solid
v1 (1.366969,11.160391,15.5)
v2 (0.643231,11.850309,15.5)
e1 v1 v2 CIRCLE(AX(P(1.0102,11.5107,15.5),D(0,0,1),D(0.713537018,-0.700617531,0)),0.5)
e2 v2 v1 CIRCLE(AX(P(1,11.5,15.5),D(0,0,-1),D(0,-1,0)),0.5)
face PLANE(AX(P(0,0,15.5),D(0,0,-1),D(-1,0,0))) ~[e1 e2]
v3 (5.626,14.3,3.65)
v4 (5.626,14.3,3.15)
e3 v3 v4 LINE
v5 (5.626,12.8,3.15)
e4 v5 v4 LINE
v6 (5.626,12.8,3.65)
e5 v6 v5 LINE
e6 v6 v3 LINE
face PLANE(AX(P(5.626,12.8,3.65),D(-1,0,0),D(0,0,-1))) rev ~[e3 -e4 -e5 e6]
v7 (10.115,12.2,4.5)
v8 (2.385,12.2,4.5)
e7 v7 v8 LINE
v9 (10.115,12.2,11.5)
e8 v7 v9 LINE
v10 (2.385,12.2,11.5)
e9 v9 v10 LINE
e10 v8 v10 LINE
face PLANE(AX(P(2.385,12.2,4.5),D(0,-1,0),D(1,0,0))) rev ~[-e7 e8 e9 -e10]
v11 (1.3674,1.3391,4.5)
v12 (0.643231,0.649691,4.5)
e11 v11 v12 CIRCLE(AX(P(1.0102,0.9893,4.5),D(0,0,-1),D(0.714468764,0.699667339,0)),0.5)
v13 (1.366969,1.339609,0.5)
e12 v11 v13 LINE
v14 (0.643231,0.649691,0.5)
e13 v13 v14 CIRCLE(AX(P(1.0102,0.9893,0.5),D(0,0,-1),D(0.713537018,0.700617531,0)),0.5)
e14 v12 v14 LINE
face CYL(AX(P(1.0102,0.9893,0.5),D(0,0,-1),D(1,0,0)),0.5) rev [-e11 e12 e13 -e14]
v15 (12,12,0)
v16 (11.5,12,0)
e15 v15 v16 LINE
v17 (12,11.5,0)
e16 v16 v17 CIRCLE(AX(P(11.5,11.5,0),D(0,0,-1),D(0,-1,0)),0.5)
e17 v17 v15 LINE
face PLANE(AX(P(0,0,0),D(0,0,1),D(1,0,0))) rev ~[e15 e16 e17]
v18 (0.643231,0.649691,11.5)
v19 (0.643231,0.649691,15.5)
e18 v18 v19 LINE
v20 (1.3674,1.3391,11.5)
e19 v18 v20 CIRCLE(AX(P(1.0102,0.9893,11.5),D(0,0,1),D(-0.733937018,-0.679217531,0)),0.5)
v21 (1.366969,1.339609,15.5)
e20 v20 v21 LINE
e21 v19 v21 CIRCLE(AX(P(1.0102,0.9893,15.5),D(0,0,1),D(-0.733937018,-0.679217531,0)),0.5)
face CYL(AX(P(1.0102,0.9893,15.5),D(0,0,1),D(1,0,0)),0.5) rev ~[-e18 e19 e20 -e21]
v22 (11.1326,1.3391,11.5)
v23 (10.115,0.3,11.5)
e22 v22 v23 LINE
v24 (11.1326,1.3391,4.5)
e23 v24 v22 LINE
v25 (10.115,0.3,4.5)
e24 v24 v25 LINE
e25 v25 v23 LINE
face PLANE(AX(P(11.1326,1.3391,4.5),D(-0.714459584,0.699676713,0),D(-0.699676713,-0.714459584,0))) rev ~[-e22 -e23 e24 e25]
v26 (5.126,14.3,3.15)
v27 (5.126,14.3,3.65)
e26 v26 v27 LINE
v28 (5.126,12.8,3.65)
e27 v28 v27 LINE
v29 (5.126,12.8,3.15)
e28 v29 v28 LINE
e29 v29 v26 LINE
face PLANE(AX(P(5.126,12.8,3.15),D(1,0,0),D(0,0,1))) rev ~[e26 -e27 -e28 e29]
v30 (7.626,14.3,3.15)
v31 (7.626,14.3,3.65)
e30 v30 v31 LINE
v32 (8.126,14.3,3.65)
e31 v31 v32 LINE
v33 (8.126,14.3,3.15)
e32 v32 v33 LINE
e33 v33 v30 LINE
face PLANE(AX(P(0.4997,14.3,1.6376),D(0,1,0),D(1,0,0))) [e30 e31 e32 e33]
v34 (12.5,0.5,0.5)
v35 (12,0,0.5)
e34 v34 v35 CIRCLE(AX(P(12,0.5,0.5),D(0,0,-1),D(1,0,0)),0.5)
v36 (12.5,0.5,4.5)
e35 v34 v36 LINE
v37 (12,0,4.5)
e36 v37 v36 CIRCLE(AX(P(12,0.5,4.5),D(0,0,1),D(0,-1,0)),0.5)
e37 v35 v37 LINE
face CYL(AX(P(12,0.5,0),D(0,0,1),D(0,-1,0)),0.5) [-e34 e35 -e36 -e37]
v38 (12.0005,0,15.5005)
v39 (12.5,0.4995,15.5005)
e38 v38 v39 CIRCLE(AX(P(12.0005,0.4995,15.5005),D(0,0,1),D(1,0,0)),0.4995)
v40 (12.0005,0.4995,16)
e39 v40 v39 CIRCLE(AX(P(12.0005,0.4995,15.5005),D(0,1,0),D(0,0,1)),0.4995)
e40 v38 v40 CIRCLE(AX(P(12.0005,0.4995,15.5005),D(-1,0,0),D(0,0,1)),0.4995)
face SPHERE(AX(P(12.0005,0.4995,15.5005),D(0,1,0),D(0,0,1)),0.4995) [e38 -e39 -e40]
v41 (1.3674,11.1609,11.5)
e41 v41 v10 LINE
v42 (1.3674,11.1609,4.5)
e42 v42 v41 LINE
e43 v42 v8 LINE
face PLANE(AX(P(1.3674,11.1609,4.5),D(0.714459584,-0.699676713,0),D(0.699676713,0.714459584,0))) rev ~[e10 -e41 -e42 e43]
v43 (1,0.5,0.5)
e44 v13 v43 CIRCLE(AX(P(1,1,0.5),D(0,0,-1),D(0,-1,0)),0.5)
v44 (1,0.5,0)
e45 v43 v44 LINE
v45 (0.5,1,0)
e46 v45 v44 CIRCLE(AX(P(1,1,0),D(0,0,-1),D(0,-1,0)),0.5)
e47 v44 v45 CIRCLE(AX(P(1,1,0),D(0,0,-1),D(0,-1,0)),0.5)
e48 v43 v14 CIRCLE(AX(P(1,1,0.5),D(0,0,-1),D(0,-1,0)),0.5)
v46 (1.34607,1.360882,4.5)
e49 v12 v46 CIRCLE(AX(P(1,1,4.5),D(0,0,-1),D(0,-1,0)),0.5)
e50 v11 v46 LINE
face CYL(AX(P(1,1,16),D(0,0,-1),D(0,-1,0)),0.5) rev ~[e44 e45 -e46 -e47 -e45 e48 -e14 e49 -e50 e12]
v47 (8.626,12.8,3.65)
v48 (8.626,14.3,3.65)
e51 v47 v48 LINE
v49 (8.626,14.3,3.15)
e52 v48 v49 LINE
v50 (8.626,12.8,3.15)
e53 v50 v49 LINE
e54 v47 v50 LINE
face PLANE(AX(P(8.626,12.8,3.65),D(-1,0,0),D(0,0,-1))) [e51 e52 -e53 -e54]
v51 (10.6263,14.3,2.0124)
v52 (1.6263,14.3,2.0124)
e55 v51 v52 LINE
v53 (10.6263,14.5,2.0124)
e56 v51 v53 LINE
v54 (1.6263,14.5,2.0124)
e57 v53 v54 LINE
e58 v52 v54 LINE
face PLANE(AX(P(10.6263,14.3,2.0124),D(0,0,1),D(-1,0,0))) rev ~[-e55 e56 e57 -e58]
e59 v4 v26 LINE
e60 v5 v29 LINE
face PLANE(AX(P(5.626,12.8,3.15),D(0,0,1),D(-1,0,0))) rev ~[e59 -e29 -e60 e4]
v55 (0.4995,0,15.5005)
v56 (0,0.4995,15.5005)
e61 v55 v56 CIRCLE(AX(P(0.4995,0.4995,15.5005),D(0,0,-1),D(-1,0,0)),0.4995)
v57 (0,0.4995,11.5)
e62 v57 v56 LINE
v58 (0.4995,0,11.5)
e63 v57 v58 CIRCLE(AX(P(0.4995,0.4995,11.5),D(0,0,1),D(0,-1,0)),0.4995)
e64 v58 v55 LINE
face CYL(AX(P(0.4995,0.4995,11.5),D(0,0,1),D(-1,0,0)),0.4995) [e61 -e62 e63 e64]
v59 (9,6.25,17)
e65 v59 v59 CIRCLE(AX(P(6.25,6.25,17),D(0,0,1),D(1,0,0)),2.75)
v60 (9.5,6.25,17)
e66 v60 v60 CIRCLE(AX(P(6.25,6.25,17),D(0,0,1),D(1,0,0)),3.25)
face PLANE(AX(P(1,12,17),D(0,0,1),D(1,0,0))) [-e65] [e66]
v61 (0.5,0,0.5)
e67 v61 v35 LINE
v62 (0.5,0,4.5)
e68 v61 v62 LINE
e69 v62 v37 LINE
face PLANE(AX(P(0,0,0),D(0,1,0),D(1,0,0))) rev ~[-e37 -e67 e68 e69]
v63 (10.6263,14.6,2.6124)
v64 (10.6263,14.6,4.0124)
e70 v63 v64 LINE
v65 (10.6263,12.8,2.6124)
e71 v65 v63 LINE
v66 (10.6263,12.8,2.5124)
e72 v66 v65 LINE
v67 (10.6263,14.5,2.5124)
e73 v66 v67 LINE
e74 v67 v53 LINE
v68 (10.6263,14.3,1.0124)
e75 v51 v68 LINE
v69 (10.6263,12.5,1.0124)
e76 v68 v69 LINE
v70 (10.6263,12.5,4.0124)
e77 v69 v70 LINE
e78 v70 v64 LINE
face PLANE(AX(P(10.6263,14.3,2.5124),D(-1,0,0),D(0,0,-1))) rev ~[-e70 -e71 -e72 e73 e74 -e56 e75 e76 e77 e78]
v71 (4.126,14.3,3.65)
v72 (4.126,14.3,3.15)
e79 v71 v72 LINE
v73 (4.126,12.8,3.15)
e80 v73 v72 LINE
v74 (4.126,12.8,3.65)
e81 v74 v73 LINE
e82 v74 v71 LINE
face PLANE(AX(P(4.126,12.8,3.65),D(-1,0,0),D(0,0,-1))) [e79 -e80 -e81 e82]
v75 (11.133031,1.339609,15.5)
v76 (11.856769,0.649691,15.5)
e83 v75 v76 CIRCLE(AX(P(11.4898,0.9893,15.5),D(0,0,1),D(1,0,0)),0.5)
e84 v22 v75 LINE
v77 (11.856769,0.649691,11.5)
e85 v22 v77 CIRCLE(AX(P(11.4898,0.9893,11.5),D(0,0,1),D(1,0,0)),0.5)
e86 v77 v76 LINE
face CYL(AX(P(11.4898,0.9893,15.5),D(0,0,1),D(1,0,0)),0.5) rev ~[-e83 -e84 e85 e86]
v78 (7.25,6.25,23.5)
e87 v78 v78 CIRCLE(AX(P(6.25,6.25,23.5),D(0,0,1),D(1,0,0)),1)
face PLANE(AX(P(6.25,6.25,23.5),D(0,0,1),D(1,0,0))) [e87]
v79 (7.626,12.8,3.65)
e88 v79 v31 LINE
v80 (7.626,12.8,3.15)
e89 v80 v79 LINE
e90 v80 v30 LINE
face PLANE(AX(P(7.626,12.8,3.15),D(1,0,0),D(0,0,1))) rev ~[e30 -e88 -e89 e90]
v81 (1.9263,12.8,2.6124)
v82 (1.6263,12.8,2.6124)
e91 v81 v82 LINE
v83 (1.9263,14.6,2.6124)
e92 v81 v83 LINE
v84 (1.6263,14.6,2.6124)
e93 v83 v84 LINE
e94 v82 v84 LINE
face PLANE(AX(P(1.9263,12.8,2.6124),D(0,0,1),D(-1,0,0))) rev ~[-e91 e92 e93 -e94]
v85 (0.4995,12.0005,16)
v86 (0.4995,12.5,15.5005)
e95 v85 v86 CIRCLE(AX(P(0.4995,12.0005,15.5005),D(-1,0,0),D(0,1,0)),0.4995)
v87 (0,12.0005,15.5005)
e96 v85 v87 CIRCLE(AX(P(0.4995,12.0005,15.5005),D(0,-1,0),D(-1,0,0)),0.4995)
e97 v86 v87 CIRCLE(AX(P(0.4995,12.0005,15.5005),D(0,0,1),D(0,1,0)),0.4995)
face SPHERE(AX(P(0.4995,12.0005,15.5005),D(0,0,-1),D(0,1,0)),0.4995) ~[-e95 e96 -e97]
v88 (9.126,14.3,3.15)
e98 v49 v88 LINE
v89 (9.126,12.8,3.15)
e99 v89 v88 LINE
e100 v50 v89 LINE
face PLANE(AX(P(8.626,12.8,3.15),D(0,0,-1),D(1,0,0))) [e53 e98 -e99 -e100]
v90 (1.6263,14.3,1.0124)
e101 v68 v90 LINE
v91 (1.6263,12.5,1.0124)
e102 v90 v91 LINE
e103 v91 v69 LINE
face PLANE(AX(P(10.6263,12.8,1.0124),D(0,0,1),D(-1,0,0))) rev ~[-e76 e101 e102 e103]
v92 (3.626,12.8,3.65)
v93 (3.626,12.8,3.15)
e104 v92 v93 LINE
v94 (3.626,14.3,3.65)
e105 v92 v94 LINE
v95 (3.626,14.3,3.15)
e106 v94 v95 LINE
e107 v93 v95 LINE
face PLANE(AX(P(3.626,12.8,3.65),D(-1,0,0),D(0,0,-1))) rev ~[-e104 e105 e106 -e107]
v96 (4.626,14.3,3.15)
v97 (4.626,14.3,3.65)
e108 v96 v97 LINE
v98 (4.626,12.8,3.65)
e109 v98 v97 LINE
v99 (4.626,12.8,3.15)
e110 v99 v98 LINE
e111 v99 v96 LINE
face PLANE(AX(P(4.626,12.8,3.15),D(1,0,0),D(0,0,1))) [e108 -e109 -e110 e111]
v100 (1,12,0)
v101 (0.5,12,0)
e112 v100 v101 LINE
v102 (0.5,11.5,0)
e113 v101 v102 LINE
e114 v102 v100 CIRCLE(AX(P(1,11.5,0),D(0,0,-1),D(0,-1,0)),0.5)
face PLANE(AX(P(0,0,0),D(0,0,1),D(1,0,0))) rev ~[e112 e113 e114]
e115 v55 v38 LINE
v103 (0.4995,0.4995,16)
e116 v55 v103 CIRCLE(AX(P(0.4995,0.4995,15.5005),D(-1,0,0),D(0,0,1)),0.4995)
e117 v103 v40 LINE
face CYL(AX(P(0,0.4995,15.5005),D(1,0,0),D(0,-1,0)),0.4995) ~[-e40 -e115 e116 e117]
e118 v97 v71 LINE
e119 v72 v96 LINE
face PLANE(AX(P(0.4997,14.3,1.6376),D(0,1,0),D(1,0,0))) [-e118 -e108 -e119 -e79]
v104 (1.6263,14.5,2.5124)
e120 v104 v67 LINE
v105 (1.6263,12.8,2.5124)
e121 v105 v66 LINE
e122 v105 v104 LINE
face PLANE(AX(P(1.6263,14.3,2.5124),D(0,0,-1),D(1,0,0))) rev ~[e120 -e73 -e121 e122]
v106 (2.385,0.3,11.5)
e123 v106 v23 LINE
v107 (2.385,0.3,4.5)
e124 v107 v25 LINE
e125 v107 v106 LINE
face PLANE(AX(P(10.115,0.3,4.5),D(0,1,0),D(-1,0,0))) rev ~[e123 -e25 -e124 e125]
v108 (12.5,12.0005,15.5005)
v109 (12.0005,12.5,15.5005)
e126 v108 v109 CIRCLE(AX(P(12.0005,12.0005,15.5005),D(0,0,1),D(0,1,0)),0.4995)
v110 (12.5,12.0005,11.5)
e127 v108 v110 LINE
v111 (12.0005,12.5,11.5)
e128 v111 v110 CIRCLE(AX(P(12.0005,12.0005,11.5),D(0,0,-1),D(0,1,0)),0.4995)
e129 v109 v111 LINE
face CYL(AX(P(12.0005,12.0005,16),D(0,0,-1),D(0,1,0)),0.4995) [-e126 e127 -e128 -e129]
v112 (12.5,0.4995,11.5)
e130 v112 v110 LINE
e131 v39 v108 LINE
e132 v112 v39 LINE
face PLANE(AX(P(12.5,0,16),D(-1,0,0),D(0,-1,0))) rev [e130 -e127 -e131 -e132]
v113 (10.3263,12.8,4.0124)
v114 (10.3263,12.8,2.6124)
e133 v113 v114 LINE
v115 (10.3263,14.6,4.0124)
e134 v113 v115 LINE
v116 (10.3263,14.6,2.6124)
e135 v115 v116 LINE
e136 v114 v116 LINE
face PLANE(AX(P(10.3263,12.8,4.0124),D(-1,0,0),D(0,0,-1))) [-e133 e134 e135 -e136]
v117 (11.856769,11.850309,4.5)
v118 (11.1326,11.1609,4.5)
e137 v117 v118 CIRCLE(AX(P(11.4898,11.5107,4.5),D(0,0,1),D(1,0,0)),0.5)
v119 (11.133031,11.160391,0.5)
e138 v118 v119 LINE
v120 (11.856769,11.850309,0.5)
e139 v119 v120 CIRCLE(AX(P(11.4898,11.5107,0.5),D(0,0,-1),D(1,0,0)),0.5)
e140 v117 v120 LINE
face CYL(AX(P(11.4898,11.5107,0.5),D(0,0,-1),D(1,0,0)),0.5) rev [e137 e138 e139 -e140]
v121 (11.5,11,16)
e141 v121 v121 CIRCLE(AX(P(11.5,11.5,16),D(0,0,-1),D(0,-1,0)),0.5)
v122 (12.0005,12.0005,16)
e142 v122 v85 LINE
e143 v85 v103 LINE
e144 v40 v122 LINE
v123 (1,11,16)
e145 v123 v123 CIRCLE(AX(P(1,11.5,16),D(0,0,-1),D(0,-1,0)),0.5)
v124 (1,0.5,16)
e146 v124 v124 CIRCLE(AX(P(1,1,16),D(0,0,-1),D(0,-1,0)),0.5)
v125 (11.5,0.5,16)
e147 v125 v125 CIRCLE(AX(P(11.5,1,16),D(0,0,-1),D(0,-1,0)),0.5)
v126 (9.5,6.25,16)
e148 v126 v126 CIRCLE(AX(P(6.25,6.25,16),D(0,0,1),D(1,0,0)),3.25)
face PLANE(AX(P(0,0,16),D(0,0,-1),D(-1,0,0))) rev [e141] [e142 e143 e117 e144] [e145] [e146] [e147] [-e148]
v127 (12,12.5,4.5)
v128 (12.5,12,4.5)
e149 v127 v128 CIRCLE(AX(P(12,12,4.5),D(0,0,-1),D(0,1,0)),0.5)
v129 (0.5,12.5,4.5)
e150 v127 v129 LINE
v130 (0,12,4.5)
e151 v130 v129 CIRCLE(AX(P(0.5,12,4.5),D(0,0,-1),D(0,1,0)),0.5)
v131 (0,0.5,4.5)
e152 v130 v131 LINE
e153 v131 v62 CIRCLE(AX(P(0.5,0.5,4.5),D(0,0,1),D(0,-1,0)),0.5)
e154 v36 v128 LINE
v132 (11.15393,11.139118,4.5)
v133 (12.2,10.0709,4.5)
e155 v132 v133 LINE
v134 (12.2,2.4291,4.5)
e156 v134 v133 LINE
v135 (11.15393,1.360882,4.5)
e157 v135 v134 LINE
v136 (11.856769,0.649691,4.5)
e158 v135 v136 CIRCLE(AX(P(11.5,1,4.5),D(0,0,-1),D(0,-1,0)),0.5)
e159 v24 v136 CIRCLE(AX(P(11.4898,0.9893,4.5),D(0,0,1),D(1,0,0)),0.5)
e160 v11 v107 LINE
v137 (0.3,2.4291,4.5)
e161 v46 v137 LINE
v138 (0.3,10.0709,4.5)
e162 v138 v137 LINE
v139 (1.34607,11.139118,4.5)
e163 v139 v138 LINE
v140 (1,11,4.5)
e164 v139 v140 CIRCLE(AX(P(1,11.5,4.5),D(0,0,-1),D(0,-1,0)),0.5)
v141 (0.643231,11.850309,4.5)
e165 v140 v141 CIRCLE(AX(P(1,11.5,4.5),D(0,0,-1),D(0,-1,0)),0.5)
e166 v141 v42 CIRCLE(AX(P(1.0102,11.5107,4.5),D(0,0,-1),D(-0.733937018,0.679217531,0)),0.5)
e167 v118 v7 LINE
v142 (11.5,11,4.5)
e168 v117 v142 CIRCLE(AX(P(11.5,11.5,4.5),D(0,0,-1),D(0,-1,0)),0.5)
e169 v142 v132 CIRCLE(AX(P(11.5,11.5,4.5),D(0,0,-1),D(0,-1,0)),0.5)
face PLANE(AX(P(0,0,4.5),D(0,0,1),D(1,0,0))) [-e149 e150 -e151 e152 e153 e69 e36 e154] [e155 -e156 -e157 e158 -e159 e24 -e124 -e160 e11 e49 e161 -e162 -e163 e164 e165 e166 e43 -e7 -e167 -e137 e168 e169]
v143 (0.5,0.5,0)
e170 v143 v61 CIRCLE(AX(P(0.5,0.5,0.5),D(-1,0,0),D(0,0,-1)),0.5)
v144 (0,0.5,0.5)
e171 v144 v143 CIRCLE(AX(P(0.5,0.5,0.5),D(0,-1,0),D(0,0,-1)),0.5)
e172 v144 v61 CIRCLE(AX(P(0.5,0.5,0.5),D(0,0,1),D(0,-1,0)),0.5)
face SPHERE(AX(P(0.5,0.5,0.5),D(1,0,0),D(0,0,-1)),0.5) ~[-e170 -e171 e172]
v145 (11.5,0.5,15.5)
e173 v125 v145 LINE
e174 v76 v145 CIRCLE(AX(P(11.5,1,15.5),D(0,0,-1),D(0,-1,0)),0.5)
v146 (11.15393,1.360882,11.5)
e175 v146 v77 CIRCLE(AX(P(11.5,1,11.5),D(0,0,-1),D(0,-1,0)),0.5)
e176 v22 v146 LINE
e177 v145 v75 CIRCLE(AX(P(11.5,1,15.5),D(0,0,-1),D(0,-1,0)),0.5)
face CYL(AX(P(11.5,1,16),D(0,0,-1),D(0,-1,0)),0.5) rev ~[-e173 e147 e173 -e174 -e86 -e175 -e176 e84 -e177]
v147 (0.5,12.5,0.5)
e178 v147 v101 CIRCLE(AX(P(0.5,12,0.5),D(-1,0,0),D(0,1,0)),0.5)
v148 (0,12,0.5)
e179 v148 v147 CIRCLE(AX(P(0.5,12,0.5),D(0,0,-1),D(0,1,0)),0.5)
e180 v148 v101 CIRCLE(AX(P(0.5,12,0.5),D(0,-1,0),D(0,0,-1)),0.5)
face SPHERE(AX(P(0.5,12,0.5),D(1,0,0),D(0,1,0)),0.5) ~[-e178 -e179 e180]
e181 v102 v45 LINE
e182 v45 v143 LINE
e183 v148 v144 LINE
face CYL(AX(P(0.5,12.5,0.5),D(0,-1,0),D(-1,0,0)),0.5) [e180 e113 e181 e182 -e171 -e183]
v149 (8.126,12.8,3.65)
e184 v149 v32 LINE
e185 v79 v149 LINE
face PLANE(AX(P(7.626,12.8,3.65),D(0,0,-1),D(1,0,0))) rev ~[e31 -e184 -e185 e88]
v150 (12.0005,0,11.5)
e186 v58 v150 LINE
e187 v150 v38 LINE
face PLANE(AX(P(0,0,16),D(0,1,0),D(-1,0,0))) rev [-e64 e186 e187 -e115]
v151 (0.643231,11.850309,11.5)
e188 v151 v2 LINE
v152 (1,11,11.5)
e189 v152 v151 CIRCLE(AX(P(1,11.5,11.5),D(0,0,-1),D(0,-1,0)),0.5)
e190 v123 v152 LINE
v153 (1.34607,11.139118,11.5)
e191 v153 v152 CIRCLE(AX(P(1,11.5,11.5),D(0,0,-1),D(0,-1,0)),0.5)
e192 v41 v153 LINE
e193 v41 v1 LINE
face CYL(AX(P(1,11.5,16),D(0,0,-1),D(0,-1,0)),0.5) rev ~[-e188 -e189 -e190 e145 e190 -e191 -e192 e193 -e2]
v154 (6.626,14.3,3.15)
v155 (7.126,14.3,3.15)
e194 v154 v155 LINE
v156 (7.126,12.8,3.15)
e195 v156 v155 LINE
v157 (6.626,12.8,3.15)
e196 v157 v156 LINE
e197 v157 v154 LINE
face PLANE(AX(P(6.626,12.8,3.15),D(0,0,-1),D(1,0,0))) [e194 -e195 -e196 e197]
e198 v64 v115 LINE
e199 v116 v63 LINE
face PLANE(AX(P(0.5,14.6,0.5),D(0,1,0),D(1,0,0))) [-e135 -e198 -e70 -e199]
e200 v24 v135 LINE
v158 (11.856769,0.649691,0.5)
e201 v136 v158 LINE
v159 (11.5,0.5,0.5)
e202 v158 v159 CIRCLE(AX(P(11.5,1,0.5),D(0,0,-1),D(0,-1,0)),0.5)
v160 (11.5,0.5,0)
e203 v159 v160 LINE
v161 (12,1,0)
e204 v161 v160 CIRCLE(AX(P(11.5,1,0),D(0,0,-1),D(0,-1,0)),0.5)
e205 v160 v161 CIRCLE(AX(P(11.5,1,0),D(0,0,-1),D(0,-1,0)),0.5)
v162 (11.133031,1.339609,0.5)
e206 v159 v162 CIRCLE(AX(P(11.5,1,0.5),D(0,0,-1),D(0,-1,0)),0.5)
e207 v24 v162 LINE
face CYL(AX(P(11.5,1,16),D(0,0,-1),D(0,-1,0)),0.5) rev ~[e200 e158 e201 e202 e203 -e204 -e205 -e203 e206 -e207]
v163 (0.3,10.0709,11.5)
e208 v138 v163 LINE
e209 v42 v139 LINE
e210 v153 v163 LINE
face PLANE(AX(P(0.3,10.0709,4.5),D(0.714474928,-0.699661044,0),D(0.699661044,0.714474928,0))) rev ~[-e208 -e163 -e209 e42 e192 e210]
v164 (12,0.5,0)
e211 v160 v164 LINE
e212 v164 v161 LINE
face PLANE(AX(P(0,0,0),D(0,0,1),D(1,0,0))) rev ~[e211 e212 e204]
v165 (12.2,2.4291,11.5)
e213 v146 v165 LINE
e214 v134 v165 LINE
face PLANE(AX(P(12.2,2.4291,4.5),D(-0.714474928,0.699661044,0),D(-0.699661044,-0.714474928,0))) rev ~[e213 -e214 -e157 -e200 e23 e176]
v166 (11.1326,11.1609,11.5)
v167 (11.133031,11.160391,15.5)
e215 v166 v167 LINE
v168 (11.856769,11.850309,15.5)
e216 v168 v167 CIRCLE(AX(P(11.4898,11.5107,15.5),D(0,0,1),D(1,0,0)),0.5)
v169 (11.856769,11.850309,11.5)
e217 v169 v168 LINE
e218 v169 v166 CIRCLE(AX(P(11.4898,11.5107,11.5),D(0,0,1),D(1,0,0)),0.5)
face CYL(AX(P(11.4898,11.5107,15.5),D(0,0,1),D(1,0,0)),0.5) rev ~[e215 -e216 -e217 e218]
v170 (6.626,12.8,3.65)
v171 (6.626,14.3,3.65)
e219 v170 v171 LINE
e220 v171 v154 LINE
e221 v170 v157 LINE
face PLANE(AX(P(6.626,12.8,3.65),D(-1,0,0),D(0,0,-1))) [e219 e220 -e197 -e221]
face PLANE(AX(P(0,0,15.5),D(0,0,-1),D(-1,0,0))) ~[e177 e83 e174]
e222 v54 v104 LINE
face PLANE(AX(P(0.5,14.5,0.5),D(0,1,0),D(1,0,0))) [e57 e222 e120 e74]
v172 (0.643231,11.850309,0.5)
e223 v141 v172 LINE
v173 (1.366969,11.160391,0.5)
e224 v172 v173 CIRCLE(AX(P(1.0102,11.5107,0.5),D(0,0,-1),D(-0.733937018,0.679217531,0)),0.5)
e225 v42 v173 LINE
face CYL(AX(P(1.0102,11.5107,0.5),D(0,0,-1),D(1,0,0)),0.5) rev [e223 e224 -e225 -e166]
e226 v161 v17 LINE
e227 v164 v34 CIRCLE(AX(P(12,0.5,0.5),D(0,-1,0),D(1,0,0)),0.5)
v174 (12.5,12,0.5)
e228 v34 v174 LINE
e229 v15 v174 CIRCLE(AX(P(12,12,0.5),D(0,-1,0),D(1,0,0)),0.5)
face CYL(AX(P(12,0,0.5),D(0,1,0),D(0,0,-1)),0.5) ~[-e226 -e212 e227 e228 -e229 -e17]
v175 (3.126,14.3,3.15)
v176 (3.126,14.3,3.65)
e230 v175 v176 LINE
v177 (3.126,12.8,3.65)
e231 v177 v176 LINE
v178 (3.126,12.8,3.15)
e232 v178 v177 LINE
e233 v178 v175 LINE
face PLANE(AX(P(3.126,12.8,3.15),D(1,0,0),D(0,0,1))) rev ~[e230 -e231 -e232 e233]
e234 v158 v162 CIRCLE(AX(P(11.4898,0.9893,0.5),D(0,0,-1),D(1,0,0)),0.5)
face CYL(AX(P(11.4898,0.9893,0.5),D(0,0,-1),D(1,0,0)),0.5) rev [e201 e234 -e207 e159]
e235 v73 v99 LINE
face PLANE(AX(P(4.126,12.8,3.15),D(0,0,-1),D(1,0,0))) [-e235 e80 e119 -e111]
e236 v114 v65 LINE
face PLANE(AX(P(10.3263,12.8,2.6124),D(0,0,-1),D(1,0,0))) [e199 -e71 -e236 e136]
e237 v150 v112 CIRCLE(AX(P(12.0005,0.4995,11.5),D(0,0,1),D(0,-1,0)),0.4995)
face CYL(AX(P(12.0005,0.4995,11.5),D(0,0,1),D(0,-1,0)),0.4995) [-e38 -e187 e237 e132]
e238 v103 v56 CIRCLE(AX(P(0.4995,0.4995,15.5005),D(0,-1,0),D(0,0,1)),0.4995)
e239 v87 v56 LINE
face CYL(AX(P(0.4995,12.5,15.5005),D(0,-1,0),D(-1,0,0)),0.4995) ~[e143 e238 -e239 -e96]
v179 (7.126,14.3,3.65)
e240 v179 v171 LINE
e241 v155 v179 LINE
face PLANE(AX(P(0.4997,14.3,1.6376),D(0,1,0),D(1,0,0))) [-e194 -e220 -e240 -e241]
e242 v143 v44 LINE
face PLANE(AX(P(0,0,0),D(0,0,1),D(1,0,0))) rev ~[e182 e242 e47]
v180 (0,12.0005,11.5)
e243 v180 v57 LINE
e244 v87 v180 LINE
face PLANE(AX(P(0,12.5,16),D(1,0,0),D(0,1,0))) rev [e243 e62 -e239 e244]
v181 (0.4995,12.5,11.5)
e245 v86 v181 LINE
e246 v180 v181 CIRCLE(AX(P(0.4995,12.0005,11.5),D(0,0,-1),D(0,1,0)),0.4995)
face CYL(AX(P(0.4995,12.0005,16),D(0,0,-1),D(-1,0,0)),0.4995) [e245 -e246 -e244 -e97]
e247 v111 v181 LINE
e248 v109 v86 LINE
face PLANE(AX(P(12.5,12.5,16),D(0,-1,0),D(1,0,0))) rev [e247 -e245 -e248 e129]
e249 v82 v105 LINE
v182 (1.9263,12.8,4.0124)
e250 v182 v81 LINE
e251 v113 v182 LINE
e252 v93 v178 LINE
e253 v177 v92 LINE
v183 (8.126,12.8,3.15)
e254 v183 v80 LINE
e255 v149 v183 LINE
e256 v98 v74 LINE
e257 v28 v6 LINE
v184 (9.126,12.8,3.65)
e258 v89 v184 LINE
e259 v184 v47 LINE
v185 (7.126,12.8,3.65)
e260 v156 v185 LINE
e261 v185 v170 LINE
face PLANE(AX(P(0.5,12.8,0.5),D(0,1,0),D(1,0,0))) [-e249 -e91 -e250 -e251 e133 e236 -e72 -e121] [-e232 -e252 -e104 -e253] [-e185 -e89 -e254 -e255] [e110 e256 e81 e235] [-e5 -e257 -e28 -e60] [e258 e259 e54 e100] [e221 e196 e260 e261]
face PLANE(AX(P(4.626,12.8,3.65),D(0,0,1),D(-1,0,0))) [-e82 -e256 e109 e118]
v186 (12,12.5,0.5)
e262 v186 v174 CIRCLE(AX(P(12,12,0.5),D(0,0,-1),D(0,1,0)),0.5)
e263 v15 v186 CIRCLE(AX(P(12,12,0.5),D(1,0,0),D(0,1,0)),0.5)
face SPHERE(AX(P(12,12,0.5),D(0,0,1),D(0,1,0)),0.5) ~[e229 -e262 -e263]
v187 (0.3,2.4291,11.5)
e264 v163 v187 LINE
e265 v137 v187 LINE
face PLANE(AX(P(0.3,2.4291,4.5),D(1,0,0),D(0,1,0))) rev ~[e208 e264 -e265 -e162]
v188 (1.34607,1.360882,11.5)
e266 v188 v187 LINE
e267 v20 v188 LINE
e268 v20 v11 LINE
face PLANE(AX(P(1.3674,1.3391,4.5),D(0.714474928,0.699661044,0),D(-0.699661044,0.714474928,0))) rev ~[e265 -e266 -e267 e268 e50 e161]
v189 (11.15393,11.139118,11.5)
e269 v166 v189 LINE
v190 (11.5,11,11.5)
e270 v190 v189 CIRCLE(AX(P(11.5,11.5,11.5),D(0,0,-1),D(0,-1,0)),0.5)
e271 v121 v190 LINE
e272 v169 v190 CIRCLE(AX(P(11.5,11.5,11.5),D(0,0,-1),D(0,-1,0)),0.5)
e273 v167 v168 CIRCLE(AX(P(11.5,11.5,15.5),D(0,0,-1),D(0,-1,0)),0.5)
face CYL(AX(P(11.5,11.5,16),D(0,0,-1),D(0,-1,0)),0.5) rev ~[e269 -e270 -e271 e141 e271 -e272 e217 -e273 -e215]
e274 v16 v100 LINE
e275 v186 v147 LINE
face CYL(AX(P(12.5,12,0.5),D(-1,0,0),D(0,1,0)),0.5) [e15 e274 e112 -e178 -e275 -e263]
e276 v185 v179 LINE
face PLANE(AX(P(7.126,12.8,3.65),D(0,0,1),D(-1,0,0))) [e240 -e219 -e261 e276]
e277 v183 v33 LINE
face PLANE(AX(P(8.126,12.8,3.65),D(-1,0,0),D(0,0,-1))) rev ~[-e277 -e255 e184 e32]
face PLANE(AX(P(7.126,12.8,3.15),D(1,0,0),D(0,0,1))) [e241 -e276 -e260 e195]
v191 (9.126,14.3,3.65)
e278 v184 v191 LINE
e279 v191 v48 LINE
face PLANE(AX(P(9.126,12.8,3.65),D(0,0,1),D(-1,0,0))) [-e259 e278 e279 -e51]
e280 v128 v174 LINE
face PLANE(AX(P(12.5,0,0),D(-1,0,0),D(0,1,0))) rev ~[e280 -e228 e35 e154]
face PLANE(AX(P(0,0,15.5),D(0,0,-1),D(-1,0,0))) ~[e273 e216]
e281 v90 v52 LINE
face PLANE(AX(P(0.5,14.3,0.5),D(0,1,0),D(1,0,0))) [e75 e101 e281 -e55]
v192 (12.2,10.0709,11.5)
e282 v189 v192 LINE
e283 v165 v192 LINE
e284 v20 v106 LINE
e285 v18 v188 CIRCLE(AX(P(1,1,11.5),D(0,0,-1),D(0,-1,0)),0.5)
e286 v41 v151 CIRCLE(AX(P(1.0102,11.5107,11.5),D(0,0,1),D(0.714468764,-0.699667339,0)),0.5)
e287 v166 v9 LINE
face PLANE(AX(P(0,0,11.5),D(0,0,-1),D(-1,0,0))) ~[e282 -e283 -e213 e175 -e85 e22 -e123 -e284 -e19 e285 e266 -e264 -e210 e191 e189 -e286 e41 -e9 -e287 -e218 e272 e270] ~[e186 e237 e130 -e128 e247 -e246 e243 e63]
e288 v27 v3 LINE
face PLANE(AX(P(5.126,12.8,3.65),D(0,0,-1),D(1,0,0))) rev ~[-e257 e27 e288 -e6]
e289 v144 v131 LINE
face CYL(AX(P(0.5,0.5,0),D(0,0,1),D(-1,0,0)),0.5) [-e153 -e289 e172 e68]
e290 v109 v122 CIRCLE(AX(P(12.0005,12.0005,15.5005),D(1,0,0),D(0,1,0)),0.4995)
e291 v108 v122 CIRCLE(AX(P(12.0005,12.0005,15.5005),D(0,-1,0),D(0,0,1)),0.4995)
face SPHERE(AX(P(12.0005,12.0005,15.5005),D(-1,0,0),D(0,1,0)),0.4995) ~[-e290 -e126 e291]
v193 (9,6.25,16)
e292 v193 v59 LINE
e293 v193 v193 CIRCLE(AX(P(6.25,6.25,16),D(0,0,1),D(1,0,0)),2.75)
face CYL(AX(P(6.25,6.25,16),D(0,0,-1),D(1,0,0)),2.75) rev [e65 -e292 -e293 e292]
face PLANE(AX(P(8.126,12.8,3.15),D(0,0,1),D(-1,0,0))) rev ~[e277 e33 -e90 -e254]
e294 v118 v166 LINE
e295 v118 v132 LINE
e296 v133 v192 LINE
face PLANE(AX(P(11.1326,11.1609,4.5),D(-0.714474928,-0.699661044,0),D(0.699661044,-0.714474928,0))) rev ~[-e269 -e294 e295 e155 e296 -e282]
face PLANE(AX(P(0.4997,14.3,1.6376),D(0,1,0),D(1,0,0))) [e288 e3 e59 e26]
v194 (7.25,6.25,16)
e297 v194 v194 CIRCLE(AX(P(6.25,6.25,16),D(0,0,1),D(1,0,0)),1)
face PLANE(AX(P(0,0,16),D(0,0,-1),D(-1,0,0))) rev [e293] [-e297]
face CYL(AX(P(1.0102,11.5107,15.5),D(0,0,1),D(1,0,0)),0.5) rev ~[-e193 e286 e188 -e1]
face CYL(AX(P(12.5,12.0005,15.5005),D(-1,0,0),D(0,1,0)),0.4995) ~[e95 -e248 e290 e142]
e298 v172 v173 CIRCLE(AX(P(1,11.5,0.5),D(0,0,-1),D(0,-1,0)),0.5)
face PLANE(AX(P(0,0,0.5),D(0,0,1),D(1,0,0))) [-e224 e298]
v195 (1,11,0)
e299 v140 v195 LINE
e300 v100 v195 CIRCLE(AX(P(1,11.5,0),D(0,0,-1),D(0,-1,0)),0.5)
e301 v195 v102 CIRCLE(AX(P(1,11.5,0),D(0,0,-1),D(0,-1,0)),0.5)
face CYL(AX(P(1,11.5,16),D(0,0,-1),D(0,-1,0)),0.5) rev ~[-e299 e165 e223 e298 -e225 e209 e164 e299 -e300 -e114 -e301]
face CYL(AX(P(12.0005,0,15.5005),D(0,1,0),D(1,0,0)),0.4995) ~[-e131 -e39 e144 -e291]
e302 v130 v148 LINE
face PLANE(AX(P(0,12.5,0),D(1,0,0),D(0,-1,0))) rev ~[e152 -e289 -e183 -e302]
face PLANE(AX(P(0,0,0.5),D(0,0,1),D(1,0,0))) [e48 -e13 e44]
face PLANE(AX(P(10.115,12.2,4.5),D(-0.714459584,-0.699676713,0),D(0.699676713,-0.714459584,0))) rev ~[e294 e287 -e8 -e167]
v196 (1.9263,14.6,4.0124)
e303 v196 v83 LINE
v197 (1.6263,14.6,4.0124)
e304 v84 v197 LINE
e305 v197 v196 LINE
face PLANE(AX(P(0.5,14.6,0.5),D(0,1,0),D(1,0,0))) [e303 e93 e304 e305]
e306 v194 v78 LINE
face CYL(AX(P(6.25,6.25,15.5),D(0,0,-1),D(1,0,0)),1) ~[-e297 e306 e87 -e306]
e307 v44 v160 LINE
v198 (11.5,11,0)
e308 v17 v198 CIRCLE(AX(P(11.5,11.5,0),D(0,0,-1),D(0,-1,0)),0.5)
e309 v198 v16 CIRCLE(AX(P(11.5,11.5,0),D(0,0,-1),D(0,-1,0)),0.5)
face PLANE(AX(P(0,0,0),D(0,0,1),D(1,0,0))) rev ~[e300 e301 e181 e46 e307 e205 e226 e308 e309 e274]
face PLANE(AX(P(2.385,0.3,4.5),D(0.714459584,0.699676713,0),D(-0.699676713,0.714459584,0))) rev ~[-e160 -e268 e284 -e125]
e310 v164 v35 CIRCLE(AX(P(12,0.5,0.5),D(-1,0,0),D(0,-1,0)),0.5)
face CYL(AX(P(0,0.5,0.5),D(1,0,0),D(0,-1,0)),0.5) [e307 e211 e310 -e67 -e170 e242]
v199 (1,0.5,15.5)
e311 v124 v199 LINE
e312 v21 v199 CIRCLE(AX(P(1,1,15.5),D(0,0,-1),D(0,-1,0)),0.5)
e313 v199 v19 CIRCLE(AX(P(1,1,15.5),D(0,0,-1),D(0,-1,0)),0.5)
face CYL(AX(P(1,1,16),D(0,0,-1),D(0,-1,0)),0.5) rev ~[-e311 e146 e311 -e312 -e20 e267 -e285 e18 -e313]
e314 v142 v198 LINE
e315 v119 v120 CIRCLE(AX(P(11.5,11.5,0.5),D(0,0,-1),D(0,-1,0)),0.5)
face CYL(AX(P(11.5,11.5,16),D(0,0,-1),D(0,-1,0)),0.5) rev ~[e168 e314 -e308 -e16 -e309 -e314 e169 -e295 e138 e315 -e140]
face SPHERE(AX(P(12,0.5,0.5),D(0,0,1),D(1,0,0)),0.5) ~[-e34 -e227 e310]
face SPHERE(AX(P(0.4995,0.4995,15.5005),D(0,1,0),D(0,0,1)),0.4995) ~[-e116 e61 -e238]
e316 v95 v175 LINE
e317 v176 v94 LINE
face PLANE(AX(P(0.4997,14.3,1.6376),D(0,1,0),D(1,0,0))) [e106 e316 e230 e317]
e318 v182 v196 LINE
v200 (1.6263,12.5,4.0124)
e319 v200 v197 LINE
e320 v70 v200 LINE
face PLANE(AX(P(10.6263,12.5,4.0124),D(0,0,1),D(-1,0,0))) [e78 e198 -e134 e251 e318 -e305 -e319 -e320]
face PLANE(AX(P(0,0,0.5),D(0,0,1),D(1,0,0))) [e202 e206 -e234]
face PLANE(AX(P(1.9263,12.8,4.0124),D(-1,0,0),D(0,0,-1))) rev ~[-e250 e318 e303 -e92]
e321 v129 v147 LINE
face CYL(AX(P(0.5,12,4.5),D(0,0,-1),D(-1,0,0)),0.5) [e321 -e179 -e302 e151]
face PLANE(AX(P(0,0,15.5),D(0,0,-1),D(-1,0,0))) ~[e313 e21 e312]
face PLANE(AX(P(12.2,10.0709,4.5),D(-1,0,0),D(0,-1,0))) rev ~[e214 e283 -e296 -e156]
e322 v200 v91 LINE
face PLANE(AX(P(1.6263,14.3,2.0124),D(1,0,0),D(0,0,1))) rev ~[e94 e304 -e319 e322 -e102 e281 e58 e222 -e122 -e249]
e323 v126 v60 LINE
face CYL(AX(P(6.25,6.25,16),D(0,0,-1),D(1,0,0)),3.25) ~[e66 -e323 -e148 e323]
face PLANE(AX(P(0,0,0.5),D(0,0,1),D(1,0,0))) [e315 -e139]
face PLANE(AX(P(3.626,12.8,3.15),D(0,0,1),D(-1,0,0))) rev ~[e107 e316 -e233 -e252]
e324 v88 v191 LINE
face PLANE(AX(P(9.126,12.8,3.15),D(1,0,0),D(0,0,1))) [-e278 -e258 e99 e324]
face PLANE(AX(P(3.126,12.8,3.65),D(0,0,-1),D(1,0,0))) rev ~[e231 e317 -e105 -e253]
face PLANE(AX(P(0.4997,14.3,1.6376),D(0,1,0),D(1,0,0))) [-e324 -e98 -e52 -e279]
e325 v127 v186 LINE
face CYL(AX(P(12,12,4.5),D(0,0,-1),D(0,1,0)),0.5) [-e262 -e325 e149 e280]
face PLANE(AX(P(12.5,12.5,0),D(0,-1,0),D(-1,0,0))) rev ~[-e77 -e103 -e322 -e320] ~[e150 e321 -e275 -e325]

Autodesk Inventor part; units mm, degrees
ref_plane "YZ Plane" through (0, 0, 0) normal (1, 0, 0) x (0, 1, 0)
sketch "Sketch1" plane through (0, 0, 0) normal (0, 0, 1) x (1, 0, 0)
  line L0 (0, 0) -> (12.5, 0)
  line L1 (12.5, 0) -> (12.5, 12.5)
  line L2 (12.5, 12.5) -> (0, 12.5)
  line L3 (0, 12.5) -> (0, 0)
  dimension "d0" = 12.5
  dimension "d2" = 12.5
extrude "Extrusion1" add sketch "Sketch1" along normal blind 0.5
sketch "Sketch3" plane through (0, 0, 0.5) normal (0, 0, 1) x (1, 0, 0)
  line L0 (1.166, 12.2) -> (0.3, 11.2) projected
  line L1 (0.3, 11.2) -> (0.3, 1.3) projected
  line L2 (0.3, 1.3) -> (1.166, 0.3) projected
  line L3 (1.166, 0.3) -> (11.334, 0.3) projected
  line L4 (11.334, 0.3) -> (12.2, 1.3) projected
  line L5 (12.2, 1.3) -> (12.2, 11.2) projected
  line L6 (12.2, 11.2) -> (11.334, 12.2) projected
  line L7 (11.334, 12.2) -> (1.166, 12.2) projected
  line L8 (0.3, 11.2) -> (1.166, 12.2)
  line L9 (11.334, 12.2) -> (1.166, 12.2)
  line L10 (12.2, 11.2) -> (11.334, 12.2)
  line L11 (12.2, 11.2) -> (12.2, 1.3)
  line L12 (11.334, 0.3) -> (12.2, 1.3)
  line L13 (11.334, 0.3) -> (1.166, 0.3)
  line L14 (1.166, 0.3) -> (11.334, 0.3)
  line L15 (0, 0) -> (12.5, 0) projected
  line L16 (12.5, 0) -> (12.5, 12.5) projected
  line L17 (12.5, 12.5) -> (0, 12.5) projected
  line L18 (0, 12.5) -> (0, 0) projected
sketch "Sketch4" plane through (0, 0, 0.5) normal (0, 0, 1) x (1, 0, 0)
  line L0 (0, 0) -> (12.5, 0) projected
  line L1 (12.5, 0) -> (12.5, 12.5) projected
  line L2 (0, 12.5) -> (0, 0) projected
  line L3 (0, 0) -> (12.5, 0)
  line L4 (12.5, 0) -> (12.5, 12.5)
  line L5 (12.5, 12.5) -> (0, 12.5)
  line L6 (0, 12.5) -> (0, 0)
  line L7 (0, 0) -> (12.5, 0)
  line L8 (12.5, 0) -> (12.5, 12.5)
  line L9 (12.5, 12.5) -> (0, 12.5)
  line L10 (0, 12.5) -> (0, 0)
  circle A0 centre (1.0102, 0.9893) radius 0.5
  line L11 (1.3674, 1.3391) -> (2.385, 0.3)
  line L12 (1.3674, 1.3391) -> (0.3, 2.4291)
  circle A1 centre (11.4898, 0.9893) radius 0.5
  line L13 (11.1326, 1.3391) -> (10.115, 0.3)
  line L14 (11.1326, 1.3391) -> (12.2, 2.4291)
  circle A2 centre (1.0102, 11.5107) radius 0.5
  line L15 (1.3674, 11.1609) -> (2.385, 12.2)
  line L16 (1.3674, 11.1609) -> (0.3, 10.0709)
  line L17 (11.1326, 11.1609) -> (12.2, 10.0709)
  line L18 (11.1326, 11.1609) -> (10.115, 12.2)
  circle A3 centre (11.4898, 11.5107) radius 0.5
  line L19 (2.385, 0.3) -> (10.115, 0.3)
  line L20 (12.2, 2.4291) -> (12.2, 10.0709)
  line L21 (10.115, 12.2) -> (2.385, 12.2)
  line L22 (0.3, 10.0709) -> (0.3, 2.4291)
  dimension "d21" = 1
  dimension "d22" = 0.3
  dimension "d23" = 0.3
  dimension "d24" = 0.3
  dimension "d25" = 0.3
extrude "Extrusion3" add sketch "Sketch4" along normal blind 4
sketch "Sketch5" plane through (0, 0, 4.5) normal (0, 0, 1) x (1, 0, 0)
  circle A0 centre (1.0102, 0.9893) radius 0.5 projected
  line L0 (1.3674, 1.3391) -> (0.3, 2.4291) projected
  line L1 (0.3, 2.4291) -> (0.3, 10.0709) projected
  line L2 (0.3, 10.0709) -> (1.3674, 11.1609) projected
  circle A1 centre (1.0102, 11.5107) radius 0.5 projected
  line L3 (1.3674, 11.1609) -> (2.385, 12.2) projected
  line L4 (2.385, 12.2) -> (10.115, 12.2) projected
  line L5 (10.115, 12.2) -> (11.1326, 11.1609) projected
  circle A2 centre (11.4898, 11.5107) radius 0.5 projected
  line L6 (11.1326, 11.1609) -> (12.2, 10.0709) projected
  line L7 (12.2, 10.0709) -> (12.2, 2.4291) projected
  line L8 (12.2, 2.4291) -> (11.1326, 1.3391) projected
  circle A3 centre (11.4898, 0.9893) radius 0.5 projected
  line L9 (11.1326, 1.3391) -> (10.115, 0.3) projected
  line L10 (10.115, 0.3) -> (2.385, 0.3) projected
  line L11 (2.385, 0.3) -> (1.3674, 1.3391) projected
  line L12 (0.3, 10.0709) -> (2.385, 12.2)
  line L13 (2.385, 12.2) -> (10.115, 12.2)
  line L14 (10.115, 12.2) -> (12.2, 10.0709)
  line L15 (12.2, 10.0709) -> (12.2, 2.4291)
  line L16 (12.2, 2.4291) -> (10.115, 0.3)
  line L17 (10.115, 0.3) -> (2.385, 0.3)
  line L18 (2.385, 0.3) -> (0.3, 2.4291)
  line L19 (0.3, 2.4291) -> (0.3, 10.0709)
extrude "Extrusion4" add sketch "Sketch5" against normal blind 4 and the other way blind 3.5 contours L0 L1 L2 L3 L4 L5 L6 L7 L8 L9 L10 L11
ref_plane "Work Plane1" through (0, 0, 8) normal (0, 0, 1) x (1, 0, 0)
sketch "Sketch6" plane through (0, 0, 8) normal (0, 0, 1) x (1, 0, 0)
  point P0 (0, 0)
fillet "Fillet1" radius 0.5 8 edges at (12.5, 12.5, 2.25) (6.25, 12.5, 0) (0, 12.5, 2.25) (12.5, 0, 2.25) (12.5, 6.25, 0) (6.25, 0, 0) (0, 6.25, 0) (0, 0, 2.25)
mirror "Mirror1" about plane through (0, 0, 8) normal (0, 0, 1) of "Extrusion1"
mirror "Mirror2" about plane through (0, 0, 8) normal (0, 0, 1) of "Extrusion3"
mirror "Mirror3" about plane through (0, 0, 8) normal (0, 0, 1) of "Extrusion4"
sketch "Sketch7" plane through (0, 0, 16) normal (0, 0, 1) x (1, 0, 0)
  circle A0 centre (1, 1) radius 0.5
  circle A1 centre (11.5, 1) radius 0.5
  circle A2 centre (11.5, 11.5) radius 0.5
  circle A3 centre (1, 11.5) radius 0.5
  dimension "d34" = 1
  dimension "d35" = 1
  dimension "d36" = 1
  dimension "d37" = 1
hole "Hole1" at (1, 11.5, 16) at (11.5, 11.5, 16) at (1, 1, 16) at (11.5, 1, 16) direction (0, 0, -1) diameter 1 end through all
fillet "Fillet2" radius 0.5 8 edges at (0, 12.5, 13.75) (6.25, 12.5, 16) (12.5, 12.5, 13.75) (12.5, 6.25, 16) (0, 6.25, 16) (6.25, 0, 16) (12.5, 0, 13.75) (0, 0, 13.75)
sketch "Sketch8" plane through (1, 12, 16) normal (0, 0, 1) x (1, 0, 0)
  circle A0 centre (5.25, -5.75) radius 1
  point P0 (-1, -12)
  dimension "d46" = 2
hole "Hole2" at (6.25, 6.25, 16) direction (0, 0, -1) diameter 2 depth 0.5
sketch "Sketch9" plane through (6.25, 6.25, 15.5) normal (0, 0, 1) x (1, 0, 0)
  circle A0 centre (0, 0) radius 1 projected
  circle A1 centre (0, 0) radius 1
  point P0 (-6.25, -6.25)
  dimension "d56" = 2
extrude "Extrusion5" add sketch "Sketch9" along normal blind 8
sketch "Sketch10" plane through (1, 12, 16) normal (0, 0, 1) x (1, 0, 0)
  circle A0 centre (5.25, -5.75) radius 3.25
  circle A1 centre (5.25, -5.75) radius 2.75
  point P0 (-1, -12)
  dimension "d59" = 6.5
  dimension "d60" = 5.5
extrude "Extrusion6" add sketch "Sketch10" along normal blind 1
sketch "Sketch11" plane through (0.5, 12.5, 0.5) normal (0, 1, 0) x (1, 0, 0)
  line L0 (1.1263, -0.5124) -> (10.1263, -0.5124)
  line L1 (10.1263, -0.5124) -> (10.1263, -3.5124)
  line L2 (10.1263, -3.5124) -> (1.1263, -3.5124)
  line L3 (1.1263, -3.5124) -> (1.1263, -0.5124)
  point P0 (-0.5, 0.5)
  dimension "d63" = 9
  dimension "d64" = 3
extrude "Extrusion7" add sketch "Sketch11" along normal blind 0.3
ref_plane "Work Plane2" through (0.4997, 12.8, 1.6376) normal (0, 1, 0) x (1, 0, 0)
sketch "Sketch12" plane through (0.4997, 12.8, 1.6376) normal (0, 1, 0) x (1, 0, 0)
  line L0 (2.6263, -2.0124) -> (3.1263, -2.0124)
  line L1 (3.1263, -2.0124) -> (3.1263, -1.5124)
  line L2 (3.1263, -1.5124) -> (2.6263, -1.5124)
  line L3 (2.6263, -1.5124) -> (2.6263, -2.0124)
  line L4 (4.1263, -2.0124) -> (3.6263, -2.0124)
  line L5 (3.6263, -2.0124) -> (3.6263, -1.5124)
  line L6 (3.6263, -1.5124) -> (4.1263, -1.5124)
  line L7 (4.1263, -1.5124) -> (4.1263, -2.0124)
  line L8 (4.6263, -2.0124) -> (5.1263, -2.0124)
  line L9 (5.1263, -2.0124) -> (5.1263, -1.5124)
  line L10 (5.1263, -1.5124) -> (4.6263, -1.5124)
  line L11 (4.6263, -1.5124) -> (4.6263, -2.0124)
  line L12 (8.6263, -2.0124) -> (8.1263, -2.0124)
  line L13 (8.1263, -2.0124) -> (8.1263, -1.5124)
  line L14 (8.1263, -1.5124) -> (8.6263, -1.5124)
  line L15 (8.6263, -1.5124) -> (8.6263, -2.0124)
  line L16 (7.1263, -2.0124) -> (7.6263, -2.0124)
  line L17 (7.6263, -2.0124) -> (7.6263, -1.5124)
  line L18 (7.6263, -1.5124) -> (7.1263, -1.5124)
  line L19 (7.1263, -1.5124) -> (7.1263, -2.0124)
  line L20 (6.6263, -2.0124) -> (6.1263, -2.0124)
  line L21 (6.1263, -2.0124) -> (6.1263, -1.5124)
  line L22 (6.1263, -1.5124) -> (6.6263, -1.5124)
  line L23 (6.6263, -1.5124) -> (6.6263, -2.0124)
  point P0 (-0.5, 0.5)
extrude "Extrusion8" add sketch "Sketch12" along normal blind 1.5
sketch "Sketch13" plane through (0.5, 12.8, 0.5) normal (0, 1, 0) x (1, 0, 0)
  line L0 (1.1263, -2.0124) -> (10.1263, -2.0124)
  line L1 (10.1263, -2.0124) -> (10.1263, -0.5124)
  line L2 (10.1263, -0.5124) -> (1.1263, -0.5124)
  line L3 (1.1263, -0.5124) -> (1.1263, -2.0124)
  point P0 (-0.5, 0.5)
extrude "Extrusion9" add sketch "Sketch13" along normal blind 1.5
sketch "Sketch14" plane through (0.5, 14.3, 0.5) normal (0, 1, 0) x (1, 0, 0)
  line L0 (1.1263, -2.0124) -> (10.1263, -2.0124)
  line L1 (10.1263, -2.0124) -> (10.1263, -1.5124)
  line L2 (10.1263, -1.5124) -> (1.1263, -1.5124)
  line L3 (1.1263, -1.5124) -> (1.1263, -2.0124)
  point P0 (-0.5, 0.5)
  dimension "d81" = 0.5
extrude "Extrusion10" add sketch "Sketch14" along normal blind 0.2
sketch "Sketch15" plane through (0.5, 12.8, 0.5) normal (0, 1, 0) x (1, 0, 0)
  line L0 (1.1263, -3.5124) -> (1.4263, -3.5124)
  line L1 (1.4263, -3.5124) -> (1.4263, -2.1124)
  line L2 (1.4263, -2.1124) -> (1.1263, -2.1124)
  line L3 (1.1263, -2.1124) -> (1.1263, -3.5124)
  line L4 (10.1263, -3.5124) -> (9.8263, -3.5124)
  line L5 (9.8263, -3.5124) -> (9.8263, -2.1124)
  line L6 (9.8263, -2.1124) -> (10.1263, -2.1124)
  line L7 (10.1263, -2.1124) -> (10.1263, -3.5124)
  point P0 (-0.5, 0.5)
  dimension "d84" = 0.3
  dimension "d85" = 1.4
  dimension "d86" = 0.3
extrude "Extrusion11" add sketch "Sketch15" along normal blind 1.8
